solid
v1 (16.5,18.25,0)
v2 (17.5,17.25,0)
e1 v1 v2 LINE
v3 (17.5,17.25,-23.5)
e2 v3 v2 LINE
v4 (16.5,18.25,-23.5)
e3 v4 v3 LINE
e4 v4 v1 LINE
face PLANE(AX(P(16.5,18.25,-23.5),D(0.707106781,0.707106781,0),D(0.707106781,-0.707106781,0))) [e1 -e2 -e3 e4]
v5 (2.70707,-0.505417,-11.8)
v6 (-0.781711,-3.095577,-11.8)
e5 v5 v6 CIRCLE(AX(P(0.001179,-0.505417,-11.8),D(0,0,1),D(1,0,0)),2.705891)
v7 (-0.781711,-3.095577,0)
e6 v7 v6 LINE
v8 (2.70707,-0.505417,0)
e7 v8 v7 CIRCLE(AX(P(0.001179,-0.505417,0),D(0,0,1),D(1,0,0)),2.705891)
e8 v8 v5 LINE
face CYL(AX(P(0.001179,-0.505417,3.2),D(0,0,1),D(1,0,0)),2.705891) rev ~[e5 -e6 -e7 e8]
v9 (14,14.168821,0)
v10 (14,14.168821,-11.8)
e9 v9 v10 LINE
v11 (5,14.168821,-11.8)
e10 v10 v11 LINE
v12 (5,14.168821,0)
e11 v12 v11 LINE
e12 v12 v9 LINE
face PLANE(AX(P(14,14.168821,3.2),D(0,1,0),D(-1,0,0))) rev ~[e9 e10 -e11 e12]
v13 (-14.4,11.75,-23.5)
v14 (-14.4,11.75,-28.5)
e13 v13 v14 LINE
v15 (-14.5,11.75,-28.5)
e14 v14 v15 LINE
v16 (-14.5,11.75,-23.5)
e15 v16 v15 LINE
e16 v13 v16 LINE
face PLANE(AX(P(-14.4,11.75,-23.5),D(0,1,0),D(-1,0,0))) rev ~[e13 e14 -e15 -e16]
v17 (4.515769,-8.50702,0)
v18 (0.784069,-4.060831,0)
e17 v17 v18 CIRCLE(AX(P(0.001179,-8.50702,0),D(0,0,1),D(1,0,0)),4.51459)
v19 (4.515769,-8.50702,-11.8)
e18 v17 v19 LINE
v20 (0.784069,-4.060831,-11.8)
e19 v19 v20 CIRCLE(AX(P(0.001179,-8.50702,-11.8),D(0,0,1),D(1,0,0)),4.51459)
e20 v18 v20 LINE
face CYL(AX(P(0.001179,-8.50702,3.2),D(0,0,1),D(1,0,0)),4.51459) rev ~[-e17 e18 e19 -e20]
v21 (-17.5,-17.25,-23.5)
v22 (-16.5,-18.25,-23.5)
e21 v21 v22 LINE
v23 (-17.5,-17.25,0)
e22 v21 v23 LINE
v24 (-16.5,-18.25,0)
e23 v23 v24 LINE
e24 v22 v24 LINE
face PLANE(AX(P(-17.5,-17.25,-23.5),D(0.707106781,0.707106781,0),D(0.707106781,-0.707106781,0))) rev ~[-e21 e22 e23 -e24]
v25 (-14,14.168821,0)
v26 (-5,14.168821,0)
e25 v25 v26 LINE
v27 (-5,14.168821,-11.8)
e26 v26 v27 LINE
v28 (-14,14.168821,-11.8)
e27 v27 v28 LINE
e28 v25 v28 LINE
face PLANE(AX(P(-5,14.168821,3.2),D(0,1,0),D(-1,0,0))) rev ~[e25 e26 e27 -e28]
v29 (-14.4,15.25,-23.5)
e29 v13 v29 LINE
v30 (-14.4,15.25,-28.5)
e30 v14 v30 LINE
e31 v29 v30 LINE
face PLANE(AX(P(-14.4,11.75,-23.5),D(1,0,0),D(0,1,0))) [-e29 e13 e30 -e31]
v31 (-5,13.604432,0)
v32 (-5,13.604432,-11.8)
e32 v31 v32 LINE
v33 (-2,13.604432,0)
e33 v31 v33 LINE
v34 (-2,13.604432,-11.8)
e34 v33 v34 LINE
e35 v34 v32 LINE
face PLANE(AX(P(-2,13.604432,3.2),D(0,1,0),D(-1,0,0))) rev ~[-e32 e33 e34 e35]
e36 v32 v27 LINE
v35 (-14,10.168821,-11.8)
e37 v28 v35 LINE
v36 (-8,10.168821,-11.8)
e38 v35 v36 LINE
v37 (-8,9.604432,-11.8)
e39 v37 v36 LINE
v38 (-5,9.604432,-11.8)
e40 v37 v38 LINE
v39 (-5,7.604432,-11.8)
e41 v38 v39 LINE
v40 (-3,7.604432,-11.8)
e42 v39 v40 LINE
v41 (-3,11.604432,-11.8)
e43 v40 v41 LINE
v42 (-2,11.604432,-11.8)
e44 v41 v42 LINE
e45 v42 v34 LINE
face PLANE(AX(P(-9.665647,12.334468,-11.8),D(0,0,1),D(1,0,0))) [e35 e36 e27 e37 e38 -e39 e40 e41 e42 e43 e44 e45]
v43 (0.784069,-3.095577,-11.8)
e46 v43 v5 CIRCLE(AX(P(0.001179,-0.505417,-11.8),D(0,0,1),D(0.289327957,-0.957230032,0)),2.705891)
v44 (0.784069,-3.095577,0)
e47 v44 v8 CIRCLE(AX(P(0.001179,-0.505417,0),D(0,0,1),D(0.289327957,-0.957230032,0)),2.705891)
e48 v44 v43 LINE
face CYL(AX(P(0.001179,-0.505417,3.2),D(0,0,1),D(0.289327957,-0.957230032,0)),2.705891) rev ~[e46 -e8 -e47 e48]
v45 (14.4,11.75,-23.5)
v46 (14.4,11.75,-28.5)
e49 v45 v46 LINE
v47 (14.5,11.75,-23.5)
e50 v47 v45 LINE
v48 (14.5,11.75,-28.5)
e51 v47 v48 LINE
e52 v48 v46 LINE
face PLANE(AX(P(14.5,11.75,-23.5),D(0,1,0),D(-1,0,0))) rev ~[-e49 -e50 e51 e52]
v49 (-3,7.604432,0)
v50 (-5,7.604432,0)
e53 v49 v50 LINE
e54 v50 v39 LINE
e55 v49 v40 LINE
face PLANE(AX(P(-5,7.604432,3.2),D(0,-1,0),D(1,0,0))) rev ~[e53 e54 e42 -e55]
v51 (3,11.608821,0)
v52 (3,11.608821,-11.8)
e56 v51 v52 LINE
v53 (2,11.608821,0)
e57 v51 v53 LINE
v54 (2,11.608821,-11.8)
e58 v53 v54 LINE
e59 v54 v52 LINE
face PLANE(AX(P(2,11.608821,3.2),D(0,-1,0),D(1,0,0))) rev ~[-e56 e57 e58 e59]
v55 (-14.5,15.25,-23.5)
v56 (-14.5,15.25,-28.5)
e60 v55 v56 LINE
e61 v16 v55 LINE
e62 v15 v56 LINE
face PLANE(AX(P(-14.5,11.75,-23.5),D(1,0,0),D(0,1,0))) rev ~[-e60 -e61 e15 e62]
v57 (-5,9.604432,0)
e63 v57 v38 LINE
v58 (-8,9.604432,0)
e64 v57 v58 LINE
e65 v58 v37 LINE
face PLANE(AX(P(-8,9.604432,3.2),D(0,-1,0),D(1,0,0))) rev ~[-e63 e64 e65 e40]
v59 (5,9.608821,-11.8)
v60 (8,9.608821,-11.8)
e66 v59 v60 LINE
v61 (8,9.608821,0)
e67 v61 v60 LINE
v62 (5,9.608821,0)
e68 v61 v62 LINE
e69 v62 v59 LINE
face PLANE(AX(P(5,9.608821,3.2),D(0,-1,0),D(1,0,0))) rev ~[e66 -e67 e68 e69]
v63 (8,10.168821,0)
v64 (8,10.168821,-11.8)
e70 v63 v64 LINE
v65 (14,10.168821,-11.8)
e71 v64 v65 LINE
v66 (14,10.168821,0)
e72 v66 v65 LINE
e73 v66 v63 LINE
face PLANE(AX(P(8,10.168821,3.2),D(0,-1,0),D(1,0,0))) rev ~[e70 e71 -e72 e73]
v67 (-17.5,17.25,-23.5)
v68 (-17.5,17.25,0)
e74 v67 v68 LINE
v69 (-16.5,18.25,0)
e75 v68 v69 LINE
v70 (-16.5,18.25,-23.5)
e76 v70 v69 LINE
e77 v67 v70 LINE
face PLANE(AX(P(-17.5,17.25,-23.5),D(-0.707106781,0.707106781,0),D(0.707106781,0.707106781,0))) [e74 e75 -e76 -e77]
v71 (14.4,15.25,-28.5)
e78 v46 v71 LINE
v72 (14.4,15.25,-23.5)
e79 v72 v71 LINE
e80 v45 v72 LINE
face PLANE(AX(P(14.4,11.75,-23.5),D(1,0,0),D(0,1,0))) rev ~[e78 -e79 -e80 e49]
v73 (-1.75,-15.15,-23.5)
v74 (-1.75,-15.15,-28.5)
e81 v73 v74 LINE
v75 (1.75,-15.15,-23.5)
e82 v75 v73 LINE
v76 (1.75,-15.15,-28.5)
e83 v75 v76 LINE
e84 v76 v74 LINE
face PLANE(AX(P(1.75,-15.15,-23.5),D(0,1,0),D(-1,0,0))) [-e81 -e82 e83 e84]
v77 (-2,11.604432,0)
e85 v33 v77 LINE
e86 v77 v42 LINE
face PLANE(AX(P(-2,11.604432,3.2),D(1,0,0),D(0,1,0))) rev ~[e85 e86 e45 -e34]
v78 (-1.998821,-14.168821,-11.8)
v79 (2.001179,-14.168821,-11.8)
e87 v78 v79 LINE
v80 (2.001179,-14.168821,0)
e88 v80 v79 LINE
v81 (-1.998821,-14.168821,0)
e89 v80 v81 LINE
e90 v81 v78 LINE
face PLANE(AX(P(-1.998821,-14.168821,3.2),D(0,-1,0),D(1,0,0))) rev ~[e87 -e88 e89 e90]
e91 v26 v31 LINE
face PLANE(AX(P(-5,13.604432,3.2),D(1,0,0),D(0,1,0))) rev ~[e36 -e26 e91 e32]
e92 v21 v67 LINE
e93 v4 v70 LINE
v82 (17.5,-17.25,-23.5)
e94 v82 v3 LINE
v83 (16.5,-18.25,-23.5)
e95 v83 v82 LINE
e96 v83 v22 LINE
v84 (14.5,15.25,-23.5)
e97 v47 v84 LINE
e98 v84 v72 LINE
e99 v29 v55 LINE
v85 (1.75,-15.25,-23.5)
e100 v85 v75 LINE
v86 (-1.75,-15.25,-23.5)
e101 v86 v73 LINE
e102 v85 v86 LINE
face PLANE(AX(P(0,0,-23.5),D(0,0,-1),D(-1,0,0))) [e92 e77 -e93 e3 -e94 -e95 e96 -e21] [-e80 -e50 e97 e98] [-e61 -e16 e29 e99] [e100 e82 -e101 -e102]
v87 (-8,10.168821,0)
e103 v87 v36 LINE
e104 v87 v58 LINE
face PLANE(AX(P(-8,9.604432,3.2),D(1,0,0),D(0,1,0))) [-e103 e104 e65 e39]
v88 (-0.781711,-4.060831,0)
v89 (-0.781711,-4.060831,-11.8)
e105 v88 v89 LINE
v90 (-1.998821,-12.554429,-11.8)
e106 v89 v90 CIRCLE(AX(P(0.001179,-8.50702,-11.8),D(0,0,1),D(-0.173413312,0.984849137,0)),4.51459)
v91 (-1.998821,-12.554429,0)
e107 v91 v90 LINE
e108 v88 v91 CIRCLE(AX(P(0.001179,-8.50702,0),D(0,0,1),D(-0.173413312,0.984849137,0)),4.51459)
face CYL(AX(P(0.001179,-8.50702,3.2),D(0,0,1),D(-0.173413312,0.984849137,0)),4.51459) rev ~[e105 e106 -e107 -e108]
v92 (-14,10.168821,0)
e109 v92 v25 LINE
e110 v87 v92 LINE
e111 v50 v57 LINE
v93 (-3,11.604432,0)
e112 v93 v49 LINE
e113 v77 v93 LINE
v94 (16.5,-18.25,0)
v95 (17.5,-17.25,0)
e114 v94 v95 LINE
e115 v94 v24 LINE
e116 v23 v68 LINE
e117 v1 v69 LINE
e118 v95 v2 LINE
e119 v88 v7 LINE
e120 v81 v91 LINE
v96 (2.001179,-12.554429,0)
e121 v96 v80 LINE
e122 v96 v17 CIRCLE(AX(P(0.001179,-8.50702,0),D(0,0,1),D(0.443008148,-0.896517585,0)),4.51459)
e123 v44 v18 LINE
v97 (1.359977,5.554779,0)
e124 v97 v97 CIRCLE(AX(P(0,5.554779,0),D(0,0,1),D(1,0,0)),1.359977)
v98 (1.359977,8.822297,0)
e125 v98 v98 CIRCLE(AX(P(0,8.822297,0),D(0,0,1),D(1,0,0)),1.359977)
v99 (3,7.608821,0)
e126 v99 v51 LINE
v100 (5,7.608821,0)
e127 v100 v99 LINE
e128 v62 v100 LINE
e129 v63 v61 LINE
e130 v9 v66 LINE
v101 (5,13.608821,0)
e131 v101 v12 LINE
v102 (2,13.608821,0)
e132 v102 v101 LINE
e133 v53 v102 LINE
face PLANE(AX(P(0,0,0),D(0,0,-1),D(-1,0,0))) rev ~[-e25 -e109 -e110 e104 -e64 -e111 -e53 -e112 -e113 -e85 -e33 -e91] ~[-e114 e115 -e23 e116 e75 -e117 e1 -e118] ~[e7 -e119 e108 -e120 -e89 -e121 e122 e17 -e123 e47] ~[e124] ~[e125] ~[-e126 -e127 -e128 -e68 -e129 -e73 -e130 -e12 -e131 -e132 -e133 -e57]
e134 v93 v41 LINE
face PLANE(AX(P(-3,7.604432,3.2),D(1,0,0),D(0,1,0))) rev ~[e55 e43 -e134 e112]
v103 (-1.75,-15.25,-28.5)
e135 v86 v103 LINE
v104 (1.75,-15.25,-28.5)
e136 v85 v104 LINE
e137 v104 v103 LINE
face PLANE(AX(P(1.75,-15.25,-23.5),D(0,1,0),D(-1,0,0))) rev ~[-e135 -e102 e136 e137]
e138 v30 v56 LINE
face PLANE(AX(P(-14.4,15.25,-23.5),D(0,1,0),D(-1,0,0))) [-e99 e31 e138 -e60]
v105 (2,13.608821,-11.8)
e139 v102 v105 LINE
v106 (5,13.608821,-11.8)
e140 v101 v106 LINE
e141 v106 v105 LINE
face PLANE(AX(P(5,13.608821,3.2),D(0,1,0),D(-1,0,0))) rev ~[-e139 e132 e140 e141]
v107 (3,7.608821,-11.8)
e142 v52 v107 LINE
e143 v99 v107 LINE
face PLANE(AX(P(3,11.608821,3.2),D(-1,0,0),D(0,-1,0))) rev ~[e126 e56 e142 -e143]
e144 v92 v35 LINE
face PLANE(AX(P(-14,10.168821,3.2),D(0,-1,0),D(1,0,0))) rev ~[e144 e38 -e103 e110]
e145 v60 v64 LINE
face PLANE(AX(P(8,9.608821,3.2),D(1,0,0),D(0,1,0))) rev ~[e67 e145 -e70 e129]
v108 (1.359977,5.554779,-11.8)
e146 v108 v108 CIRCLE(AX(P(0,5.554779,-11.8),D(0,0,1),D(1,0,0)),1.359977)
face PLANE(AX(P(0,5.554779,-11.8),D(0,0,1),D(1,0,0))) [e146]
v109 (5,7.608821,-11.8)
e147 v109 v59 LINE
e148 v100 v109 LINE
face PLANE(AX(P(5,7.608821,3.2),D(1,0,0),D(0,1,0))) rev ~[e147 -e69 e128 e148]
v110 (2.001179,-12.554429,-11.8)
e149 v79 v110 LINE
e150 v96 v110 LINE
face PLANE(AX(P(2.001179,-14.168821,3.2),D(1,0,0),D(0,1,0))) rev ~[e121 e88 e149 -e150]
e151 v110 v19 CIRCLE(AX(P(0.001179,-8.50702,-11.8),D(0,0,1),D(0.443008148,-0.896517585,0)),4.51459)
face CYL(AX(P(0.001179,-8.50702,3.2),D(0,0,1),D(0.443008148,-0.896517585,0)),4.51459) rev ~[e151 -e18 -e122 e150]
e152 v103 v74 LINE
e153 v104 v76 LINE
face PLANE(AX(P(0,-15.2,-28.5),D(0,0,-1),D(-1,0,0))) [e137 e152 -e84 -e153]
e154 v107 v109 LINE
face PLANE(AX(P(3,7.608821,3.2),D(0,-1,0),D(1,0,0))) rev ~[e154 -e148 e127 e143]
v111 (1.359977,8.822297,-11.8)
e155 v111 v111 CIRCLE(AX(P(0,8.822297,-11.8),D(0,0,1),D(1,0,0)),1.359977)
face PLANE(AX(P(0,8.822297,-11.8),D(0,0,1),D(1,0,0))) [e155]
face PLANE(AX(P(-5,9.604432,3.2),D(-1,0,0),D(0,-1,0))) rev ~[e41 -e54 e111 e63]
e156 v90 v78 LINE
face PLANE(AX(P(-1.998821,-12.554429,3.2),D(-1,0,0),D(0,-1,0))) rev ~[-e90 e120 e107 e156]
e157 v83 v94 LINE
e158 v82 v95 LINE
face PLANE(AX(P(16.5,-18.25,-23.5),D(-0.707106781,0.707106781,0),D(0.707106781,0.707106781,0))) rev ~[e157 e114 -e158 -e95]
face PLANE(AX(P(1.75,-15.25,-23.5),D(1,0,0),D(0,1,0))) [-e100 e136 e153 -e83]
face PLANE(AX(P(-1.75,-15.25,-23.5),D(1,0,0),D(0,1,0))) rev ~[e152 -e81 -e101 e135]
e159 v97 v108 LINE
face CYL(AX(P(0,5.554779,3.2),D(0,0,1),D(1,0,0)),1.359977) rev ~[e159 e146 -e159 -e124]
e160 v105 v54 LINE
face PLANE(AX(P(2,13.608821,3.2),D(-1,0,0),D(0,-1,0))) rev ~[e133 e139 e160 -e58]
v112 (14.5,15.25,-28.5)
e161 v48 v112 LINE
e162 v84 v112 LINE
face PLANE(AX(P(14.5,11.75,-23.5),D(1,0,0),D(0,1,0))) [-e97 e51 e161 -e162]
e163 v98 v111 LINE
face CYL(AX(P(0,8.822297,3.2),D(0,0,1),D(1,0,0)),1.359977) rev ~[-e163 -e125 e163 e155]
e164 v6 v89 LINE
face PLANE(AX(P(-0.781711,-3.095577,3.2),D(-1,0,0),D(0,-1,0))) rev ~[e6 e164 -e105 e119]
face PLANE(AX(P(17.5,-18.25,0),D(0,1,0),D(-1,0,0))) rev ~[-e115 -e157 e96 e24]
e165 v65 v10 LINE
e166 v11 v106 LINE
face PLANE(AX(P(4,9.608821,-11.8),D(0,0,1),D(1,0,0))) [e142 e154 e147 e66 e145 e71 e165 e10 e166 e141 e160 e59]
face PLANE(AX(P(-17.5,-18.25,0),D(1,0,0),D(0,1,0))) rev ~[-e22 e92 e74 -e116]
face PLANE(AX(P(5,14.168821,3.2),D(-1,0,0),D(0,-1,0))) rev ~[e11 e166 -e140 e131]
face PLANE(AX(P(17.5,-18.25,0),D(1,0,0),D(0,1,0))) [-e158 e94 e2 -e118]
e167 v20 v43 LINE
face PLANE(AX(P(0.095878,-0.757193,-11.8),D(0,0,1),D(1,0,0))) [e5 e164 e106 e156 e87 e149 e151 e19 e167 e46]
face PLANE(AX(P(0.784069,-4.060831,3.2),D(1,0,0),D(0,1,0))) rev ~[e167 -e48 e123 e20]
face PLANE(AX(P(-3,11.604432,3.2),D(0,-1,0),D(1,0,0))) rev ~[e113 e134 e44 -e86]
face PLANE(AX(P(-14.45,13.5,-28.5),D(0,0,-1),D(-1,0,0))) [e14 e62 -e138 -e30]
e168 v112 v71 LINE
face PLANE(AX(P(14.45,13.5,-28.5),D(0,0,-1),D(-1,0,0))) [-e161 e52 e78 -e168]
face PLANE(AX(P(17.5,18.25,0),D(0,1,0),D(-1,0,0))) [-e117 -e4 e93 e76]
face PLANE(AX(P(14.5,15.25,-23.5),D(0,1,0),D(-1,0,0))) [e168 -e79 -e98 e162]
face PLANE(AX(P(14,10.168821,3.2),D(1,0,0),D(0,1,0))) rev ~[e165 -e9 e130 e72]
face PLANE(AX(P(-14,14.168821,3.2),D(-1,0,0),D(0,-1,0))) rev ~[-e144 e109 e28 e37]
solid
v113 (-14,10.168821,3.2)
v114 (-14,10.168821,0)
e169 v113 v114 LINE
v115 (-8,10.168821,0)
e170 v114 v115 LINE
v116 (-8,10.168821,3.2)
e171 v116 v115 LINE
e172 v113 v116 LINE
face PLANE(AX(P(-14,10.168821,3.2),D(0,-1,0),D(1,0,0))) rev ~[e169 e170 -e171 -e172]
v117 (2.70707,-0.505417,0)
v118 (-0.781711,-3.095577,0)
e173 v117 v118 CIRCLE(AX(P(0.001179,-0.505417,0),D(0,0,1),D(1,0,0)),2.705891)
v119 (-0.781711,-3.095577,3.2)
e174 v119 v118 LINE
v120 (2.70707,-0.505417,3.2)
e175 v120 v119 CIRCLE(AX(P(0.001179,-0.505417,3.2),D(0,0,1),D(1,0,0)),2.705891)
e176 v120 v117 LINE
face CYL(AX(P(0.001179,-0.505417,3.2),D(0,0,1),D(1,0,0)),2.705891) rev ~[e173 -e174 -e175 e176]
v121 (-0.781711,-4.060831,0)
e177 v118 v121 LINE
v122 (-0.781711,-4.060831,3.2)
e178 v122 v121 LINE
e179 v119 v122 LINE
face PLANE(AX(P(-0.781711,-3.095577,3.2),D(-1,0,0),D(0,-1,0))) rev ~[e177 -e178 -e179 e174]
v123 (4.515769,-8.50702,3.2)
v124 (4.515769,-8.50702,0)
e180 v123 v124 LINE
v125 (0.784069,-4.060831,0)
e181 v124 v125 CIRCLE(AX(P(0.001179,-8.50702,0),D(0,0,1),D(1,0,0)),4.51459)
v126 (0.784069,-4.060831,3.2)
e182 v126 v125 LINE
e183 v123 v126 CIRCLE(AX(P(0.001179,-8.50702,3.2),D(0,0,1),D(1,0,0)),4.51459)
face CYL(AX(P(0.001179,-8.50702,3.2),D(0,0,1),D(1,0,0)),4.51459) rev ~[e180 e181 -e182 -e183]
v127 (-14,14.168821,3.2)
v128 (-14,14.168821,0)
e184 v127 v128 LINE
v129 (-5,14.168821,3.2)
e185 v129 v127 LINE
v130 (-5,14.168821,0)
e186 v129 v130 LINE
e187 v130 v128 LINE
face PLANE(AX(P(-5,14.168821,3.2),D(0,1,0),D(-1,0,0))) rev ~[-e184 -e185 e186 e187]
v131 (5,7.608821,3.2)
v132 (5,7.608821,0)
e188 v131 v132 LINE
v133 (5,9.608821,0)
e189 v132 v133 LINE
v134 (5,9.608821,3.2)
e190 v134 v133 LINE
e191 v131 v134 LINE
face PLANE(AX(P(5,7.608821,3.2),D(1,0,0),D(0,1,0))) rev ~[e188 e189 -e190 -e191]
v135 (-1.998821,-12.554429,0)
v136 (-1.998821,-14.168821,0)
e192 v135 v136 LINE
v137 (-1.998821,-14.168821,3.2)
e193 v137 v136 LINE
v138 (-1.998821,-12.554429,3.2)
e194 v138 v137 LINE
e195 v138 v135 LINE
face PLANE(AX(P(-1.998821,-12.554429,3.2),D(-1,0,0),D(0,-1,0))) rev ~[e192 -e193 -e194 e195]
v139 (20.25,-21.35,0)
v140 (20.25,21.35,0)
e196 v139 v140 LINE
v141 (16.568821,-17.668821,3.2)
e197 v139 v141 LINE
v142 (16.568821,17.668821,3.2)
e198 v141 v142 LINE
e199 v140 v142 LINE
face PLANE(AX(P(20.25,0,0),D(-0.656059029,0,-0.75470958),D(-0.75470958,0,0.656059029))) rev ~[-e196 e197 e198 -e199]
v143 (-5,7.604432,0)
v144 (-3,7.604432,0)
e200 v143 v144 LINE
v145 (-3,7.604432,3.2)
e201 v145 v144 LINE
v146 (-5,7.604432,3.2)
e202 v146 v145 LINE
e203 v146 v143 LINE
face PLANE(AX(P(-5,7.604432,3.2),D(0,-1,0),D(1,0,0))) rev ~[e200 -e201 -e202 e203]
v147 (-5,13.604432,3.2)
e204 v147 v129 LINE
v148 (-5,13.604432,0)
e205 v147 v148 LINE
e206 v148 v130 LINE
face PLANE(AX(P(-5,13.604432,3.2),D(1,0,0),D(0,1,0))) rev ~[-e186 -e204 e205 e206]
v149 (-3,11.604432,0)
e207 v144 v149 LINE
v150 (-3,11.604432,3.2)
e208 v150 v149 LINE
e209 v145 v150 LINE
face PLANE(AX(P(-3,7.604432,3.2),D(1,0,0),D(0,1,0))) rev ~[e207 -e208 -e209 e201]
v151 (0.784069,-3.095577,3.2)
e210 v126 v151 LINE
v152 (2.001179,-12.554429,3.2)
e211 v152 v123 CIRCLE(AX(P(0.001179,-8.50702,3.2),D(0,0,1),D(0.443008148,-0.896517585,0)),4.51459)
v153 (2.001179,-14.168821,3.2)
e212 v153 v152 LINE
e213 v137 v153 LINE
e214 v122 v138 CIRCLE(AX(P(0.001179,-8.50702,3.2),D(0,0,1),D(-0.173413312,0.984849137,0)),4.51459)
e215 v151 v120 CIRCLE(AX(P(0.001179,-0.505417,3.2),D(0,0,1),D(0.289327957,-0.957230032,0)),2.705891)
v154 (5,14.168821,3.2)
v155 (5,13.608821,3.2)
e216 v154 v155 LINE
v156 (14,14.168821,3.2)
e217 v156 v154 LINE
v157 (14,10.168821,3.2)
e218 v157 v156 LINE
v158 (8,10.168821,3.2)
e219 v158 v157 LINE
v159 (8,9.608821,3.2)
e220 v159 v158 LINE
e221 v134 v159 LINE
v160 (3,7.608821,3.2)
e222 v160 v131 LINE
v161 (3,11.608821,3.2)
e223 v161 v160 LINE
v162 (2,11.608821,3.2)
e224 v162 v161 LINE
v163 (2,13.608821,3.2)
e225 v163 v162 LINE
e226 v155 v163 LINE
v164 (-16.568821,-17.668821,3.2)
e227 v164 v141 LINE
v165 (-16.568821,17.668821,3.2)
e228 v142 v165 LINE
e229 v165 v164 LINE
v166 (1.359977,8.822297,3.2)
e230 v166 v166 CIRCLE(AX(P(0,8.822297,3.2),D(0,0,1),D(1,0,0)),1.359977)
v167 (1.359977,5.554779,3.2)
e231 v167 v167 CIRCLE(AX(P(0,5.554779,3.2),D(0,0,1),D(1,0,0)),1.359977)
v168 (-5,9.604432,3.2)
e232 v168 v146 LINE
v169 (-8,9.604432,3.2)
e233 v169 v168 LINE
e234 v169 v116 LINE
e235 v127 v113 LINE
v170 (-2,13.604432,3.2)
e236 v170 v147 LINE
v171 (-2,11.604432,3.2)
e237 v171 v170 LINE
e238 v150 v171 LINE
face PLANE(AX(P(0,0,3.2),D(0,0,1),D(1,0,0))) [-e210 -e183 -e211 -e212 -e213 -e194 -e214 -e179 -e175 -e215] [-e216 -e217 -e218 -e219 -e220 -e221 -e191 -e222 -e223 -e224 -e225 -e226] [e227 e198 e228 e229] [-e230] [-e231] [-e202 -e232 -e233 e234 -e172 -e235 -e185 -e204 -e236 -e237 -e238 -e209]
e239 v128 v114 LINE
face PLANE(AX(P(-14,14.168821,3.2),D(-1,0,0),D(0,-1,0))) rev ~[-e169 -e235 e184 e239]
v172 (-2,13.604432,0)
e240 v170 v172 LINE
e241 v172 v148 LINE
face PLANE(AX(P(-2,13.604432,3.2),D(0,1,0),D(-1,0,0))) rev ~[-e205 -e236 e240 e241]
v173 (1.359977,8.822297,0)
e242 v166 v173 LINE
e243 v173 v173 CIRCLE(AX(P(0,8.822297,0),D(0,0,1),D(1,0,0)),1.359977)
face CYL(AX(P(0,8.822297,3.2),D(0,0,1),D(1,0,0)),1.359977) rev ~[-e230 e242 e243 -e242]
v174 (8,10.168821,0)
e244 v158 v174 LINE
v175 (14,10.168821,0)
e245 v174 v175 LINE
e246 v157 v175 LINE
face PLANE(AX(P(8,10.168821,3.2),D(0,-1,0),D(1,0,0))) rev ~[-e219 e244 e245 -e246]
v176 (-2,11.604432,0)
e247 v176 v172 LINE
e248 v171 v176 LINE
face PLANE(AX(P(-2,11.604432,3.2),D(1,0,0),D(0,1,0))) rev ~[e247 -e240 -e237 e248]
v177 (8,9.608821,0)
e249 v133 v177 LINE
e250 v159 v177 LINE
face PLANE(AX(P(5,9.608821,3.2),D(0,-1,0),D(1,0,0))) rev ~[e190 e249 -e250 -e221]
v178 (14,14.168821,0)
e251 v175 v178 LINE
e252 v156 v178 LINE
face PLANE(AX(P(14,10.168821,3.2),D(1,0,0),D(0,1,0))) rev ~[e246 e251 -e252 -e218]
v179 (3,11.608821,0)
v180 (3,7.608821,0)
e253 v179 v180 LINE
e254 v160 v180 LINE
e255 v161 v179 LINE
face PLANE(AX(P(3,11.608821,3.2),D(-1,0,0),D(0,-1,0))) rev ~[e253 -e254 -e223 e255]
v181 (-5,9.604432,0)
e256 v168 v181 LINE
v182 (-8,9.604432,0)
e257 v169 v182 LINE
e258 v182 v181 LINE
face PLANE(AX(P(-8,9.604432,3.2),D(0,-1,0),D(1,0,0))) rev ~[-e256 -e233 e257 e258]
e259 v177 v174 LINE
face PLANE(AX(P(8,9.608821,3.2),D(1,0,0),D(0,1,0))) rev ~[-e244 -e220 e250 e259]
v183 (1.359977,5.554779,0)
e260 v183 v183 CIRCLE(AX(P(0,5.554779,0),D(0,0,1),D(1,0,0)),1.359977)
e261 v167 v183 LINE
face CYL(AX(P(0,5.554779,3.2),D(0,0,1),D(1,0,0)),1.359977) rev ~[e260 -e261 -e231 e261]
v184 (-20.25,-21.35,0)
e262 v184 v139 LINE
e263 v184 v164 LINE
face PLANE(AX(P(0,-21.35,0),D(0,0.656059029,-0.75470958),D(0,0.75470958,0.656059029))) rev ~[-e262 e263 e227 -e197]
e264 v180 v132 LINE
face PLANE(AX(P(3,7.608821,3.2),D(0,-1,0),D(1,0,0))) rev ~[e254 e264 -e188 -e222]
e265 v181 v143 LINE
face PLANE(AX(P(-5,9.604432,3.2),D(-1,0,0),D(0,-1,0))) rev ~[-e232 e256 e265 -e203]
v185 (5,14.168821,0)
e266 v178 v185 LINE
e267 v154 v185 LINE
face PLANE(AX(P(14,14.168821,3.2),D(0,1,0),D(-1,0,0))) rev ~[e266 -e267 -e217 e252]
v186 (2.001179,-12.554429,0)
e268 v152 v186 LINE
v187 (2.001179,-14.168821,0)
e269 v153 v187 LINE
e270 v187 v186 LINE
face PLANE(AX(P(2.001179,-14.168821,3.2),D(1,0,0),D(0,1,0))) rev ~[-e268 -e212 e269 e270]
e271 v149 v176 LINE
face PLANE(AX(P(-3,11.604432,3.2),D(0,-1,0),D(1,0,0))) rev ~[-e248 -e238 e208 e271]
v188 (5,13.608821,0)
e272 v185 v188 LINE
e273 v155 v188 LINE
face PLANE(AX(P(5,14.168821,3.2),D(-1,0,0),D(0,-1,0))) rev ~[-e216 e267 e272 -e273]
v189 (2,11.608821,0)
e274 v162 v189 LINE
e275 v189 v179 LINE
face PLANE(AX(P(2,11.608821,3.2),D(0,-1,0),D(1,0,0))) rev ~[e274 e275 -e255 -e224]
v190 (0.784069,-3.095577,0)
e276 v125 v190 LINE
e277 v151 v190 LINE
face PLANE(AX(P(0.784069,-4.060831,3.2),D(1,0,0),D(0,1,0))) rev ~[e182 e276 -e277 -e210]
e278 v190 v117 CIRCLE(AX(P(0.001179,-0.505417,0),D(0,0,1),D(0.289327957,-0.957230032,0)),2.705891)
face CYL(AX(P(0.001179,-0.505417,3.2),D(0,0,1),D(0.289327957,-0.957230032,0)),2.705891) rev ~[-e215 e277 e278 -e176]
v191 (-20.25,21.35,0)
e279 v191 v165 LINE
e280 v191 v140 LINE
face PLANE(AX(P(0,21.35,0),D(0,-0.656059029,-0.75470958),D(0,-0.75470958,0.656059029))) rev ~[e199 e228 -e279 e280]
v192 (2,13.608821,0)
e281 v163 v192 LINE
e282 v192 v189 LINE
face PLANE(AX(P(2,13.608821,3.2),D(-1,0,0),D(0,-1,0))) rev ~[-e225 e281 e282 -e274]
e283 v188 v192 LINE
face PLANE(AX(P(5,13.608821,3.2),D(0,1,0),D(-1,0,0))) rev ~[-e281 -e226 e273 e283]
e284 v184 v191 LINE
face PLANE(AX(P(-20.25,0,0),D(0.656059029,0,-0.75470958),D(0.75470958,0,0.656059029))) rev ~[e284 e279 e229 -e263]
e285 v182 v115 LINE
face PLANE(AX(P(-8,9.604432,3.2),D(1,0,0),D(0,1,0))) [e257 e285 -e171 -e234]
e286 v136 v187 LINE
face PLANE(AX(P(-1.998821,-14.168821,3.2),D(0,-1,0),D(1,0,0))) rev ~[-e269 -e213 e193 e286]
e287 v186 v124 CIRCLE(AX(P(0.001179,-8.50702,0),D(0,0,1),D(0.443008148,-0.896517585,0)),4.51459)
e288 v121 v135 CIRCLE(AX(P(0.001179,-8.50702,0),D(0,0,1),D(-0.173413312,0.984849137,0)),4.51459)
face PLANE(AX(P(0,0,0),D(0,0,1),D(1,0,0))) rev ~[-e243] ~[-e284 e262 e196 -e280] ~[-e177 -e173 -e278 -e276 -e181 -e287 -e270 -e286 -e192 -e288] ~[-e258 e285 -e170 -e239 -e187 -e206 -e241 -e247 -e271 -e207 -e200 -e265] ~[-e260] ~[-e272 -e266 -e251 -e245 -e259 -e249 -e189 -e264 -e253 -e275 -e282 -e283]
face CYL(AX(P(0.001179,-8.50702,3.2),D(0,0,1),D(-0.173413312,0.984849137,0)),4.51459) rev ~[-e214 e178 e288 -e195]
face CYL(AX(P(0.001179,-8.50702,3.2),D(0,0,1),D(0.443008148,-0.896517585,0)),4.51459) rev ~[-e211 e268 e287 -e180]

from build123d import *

# Parameters (mm, degrees)
SKETCH1_W           = 40.5
SKETCH1_H           = 42.7
BOSS_EXTRUDE1_DEPTH = 3.2
BOSS_EXTRUDE1_TAPER = 49
SKETCH6_W           = 35
SKETCH6_H           = 36.5
BOSS_EXTRUDE2_DEPTH = 23.5
CUT_EXTRUDE9_DEPTH  = 23.5
SKETCH13_W          = 0.1
SKETCH13_H          = 3.5
SKETCH13_W_2        = 3.5
SKETCH13_H_2        = 0.1
BOSS_EXTRUDE3_DEPTH = 5
SKETCH9_W           = 3
SKETCH9_H           = 0.564389357
SKETCH9_R           = 1.359977184
SKETCH9_H_2         = 1.44
SKETCH9_H_3         = 0.56
SKETCH9_H_4         = 1.435610643
CUT_EXTRUDE12_DEPTH = 15


with BuildPart() as part:
    # Sketch1 → Boss-Extrude1 (new body)
    with BuildSketch(Plane.XY):
        Rectangle(SKETCH1_W, SKETCH1_H)
    extrude(amount=BOSS_EXTRUDE1_DEPTH, taper=BOSS_EXTRUDE1_TAPER)


with BuildPart() as body_2:
    # Sketch6 → Boss-Extrude2 (new body)
    with BuildSketch(Plane(origin=(0, 0, 0), x_dir=(-1, 0, 0), z_dir=(0, 0, -1))):
        Rectangle(SKETCH6_W, SKETCH6_H)
    extrude(amount=BOSS_EXTRUDE2_DEPTH)

    # Sketch7 → Cut-Extrude9 (cut)
    with BuildSketch(Plane(origin=(0, 0, -23.5), x_dir=(-1, 0, 0), z_dir=(0, 0, -1))):
        Polygon((-17.5, 18.25), (-16.5, 18.25), (-17.5, 17.25), align=None)
        Polygon((17.5, 18.25), (17.5, 17.25), (16.5, 18.25), align=None)
        Polygon((17.5, -18.25), (17.5, -17.25), (16.5, -18.25), align=None)
        Polygon((-17.5, -18.25), (-16.5, -18.25), (-17.5, -17.25), align=None)
    extrude(amount=-CUT_EXTRUDE9_DEPTH, mode=Mode.SUBTRACT)

    # Sketch13 → Boss-Extrude3 (add)
    with BuildSketch(Plane(origin=(0, 0, -23.5), x_dir=(-1, 0, 0), z_dir=(0, 0, -1))):
        with Locations((-14.45, 13.5)):
            Rectangle(SKETCH13_W, SKETCH13_H)
        with Locations((14.45, 13.5)):
            Rectangle(SKETCH13_W, SKETCH13_H)
        with Locations((0, -15.2)):
            Rectangle(SKETCH13_W_2, SKETCH13_H_2)
    extrude(amount=BOSS_EXTRUDE3_DEPTH)


with BuildPart() as cut_extrude12_tool:
    # Sketch9 → Cut-Extrude12 (new body)
    with BuildSketch(Plane.XY.offset(3.2)):
        Polygon((-8, 11.60443174), (-5, 11.60443174), (-5, 13.60443174), (-5, 14.168821097), (-14, 14.168821097), (-14, 10.168821097), (-8, 10.168821097), align=None)
        with Locations((-6.5, 9.886626419)):
            Rectangle(SKETCH9_W, SKETCH9_H)
        Polygon((-5, 7.60443174), (-3, 7.60443174), (-3, 11.60443174), (-5, 11.60443174), (-5, 10.168821097), (-5, 9.60443174), align=None)
        Polygon((-5, 11.60443174), (-3, 11.60443174), (-2, 11.60443174), (-2, 13.60443174), (-5, 13.60443174), align=None)
        with Locations((0, 8.822296788)):
            Circle(SKETCH9_R)
        with Locations((0, 5.554779459)):
            Circle(SKETCH9_R)
        Polygon((5, 9.608821097), (5, 10.168821097), (5, 11.608821097), (3, 11.608821097), (3, 7.608821097), (5, 7.608821097), align=None)
        Polygon((3, 11.608821097), (5, 11.608821097), (5, 13.608821097), (2, 13.608821097), (2, 11.608821097), align=None)
        with Locations((6.5, 10.888821097)):
            Rectangle(SKETCH9_W, SKETCH9_H_2)
        with Locations((6.5, 9.888821097)):
            Rectangle(SKETCH9_W, SKETCH9_H_3)
        Polygon((8, 10.168821097), (14, 10.168821097), (14, 14.168821097), (5, 14.168821097), (5, 13.608821097), (5, 11.608821097), (8, 11.608821097), align=None)
        with Locations((-6.5, 10.886626419)):
            Rectangle(SKETCH9_W, SKETCH9_H_4)
        with BuildLine():
            ThreePointArc((2.707069994, -0.505416745), (-1.611804618, 1.667169446), (-0.781711039, -3.09557696))
            Line((-0.781711039, -3.09557696), (-0.781711039, -2.291060405))
            Line((-0.781711039, -2.291060405), (0.784068845, -2.291060405))
            Line((0.784068845, -2.291060405), (0.784068845, -3.09557696))
            ThreePointArc((0.784068845, -3.09557696), (2.173765095, -2.118400266), (2.707069994, -0.505416745))
        make_face()
        with BuildLine():
            Line((-0.781711039, -2.291060405), (-0.781711039, -3.09557696))
            ThreePointArc((-0.781711039, -3.09557696), (0.001178903, -3.211307837), (0.784068845, -3.09557696))
            Line((0.784068845, -3.09557696), (0.784068845, -2.291060405))
            Line((0.784068845, -2.291060405), (-0.781711039, -2.291060405))
        make_face()
        with BuildLine():
            Line((-0.781711039, -3.09557696), (-0.781711039, -4.060830569))
            ThreePointArc((-0.781711039, -4.060830569), (0.001178903, -3.992430641), (0.784068845, -4.060830569))
            Line((0.784068845, -4.060830569), (0.784068845, -3.09557696))
            ThreePointArc((0.784068845, -3.09557696), (0.001178903, -3.211307837), (-0.781711039, -3.09557696))
        make_face()
        with BuildLine():
            ThreePointArc((0.784068845, -4.060830569), (0.001178903, -3.992430641), (-0.781711039, -4.060830569))
            Line((-0.781711039, -4.060830569), (-0.781711039, -5.693800877))
            Line((-0.781711039, -5.693800877), (0.784068845, -5.693800877))
            Line((0.784068845, -5.693800877), (0.784068845, -4.060830569))
        make_face()
        with BuildLine():
            Line((2.001178903, -8.507020293), (2.001178903, -12.554429307))
            ThreePointArc((2.001178903, -12.554429307), (3.835934373, -10.889491743), (4.515768555, -8.507020293))
            ThreePointArc((4.515768555, -8.507020293), (3.459209163, -5.604685638), (0.784068845, -4.060830569))
            Line((0.784068845, -4.060830569), (0.784068845, -5.693800877))
            Line((0.784068845, -5.693800877), (-0.781711039, -5.693800877))
            Line((-0.781711039, -5.693800877), (-0.781711039, -4.060830569))
            ThreePointArc((-0.781711039, -4.060830569), (-4.467761015, -7.866633116), (-1.998821097, -12.554429307))
            Line((-1.998821097, -12.554429307), (-1.998821097, -8.507020293))
            Line((-1.998821097, -8.507020293), (2.001178903, -8.507020293))
        make_face()
        with BuildLine():
            ThreePointArc((-1.998821097, -12.554429307), (0.001178903, -13.021609945), (2.001178903, -12.554429307))
            Line((2.001178903, -12.554429307), (2.001178903, -8.507020293))
            Line((2.001178903, -8.507020293), (-1.998821097, -8.507020293))
            Line((-1.998821097, -8.507020293), (-1.998821097, -12.554429307))
        make_face()
        with BuildLine():
            Line((-1.998821097, -14.168821097), (2.001178903, -14.168821097))
            Line((2.001178903, -14.168821097), (2.001178903, -12.554429307))
            ThreePointArc((2.001178903, -12.554429307), (0.001178903, -13.021609945), (-1.998821097, -12.554429307))
            Line((-1.998821097, -12.554429307), (-1.998821097, -14.168821097))
        make_face()
    extrude(amount=-CUT_EXTRUDE12_DEPTH)


with BuildPart() as part_1:
    add(part.part)

    # Cut-Extrude12: cut by cut_extrude12_tool
    add(cut_extrude12_tool.part, mode=Mode.SUBTRACT)


with BuildPart() as body_2_1:
    add(body_2.part)

    # Cut-Extrude12: cut by cut_extrude12_tool
    add(cut_extrude12_tool.part, mode=Mode.SUBTRACT)


solid = Compound([part_1.part, body_2_1.part])
